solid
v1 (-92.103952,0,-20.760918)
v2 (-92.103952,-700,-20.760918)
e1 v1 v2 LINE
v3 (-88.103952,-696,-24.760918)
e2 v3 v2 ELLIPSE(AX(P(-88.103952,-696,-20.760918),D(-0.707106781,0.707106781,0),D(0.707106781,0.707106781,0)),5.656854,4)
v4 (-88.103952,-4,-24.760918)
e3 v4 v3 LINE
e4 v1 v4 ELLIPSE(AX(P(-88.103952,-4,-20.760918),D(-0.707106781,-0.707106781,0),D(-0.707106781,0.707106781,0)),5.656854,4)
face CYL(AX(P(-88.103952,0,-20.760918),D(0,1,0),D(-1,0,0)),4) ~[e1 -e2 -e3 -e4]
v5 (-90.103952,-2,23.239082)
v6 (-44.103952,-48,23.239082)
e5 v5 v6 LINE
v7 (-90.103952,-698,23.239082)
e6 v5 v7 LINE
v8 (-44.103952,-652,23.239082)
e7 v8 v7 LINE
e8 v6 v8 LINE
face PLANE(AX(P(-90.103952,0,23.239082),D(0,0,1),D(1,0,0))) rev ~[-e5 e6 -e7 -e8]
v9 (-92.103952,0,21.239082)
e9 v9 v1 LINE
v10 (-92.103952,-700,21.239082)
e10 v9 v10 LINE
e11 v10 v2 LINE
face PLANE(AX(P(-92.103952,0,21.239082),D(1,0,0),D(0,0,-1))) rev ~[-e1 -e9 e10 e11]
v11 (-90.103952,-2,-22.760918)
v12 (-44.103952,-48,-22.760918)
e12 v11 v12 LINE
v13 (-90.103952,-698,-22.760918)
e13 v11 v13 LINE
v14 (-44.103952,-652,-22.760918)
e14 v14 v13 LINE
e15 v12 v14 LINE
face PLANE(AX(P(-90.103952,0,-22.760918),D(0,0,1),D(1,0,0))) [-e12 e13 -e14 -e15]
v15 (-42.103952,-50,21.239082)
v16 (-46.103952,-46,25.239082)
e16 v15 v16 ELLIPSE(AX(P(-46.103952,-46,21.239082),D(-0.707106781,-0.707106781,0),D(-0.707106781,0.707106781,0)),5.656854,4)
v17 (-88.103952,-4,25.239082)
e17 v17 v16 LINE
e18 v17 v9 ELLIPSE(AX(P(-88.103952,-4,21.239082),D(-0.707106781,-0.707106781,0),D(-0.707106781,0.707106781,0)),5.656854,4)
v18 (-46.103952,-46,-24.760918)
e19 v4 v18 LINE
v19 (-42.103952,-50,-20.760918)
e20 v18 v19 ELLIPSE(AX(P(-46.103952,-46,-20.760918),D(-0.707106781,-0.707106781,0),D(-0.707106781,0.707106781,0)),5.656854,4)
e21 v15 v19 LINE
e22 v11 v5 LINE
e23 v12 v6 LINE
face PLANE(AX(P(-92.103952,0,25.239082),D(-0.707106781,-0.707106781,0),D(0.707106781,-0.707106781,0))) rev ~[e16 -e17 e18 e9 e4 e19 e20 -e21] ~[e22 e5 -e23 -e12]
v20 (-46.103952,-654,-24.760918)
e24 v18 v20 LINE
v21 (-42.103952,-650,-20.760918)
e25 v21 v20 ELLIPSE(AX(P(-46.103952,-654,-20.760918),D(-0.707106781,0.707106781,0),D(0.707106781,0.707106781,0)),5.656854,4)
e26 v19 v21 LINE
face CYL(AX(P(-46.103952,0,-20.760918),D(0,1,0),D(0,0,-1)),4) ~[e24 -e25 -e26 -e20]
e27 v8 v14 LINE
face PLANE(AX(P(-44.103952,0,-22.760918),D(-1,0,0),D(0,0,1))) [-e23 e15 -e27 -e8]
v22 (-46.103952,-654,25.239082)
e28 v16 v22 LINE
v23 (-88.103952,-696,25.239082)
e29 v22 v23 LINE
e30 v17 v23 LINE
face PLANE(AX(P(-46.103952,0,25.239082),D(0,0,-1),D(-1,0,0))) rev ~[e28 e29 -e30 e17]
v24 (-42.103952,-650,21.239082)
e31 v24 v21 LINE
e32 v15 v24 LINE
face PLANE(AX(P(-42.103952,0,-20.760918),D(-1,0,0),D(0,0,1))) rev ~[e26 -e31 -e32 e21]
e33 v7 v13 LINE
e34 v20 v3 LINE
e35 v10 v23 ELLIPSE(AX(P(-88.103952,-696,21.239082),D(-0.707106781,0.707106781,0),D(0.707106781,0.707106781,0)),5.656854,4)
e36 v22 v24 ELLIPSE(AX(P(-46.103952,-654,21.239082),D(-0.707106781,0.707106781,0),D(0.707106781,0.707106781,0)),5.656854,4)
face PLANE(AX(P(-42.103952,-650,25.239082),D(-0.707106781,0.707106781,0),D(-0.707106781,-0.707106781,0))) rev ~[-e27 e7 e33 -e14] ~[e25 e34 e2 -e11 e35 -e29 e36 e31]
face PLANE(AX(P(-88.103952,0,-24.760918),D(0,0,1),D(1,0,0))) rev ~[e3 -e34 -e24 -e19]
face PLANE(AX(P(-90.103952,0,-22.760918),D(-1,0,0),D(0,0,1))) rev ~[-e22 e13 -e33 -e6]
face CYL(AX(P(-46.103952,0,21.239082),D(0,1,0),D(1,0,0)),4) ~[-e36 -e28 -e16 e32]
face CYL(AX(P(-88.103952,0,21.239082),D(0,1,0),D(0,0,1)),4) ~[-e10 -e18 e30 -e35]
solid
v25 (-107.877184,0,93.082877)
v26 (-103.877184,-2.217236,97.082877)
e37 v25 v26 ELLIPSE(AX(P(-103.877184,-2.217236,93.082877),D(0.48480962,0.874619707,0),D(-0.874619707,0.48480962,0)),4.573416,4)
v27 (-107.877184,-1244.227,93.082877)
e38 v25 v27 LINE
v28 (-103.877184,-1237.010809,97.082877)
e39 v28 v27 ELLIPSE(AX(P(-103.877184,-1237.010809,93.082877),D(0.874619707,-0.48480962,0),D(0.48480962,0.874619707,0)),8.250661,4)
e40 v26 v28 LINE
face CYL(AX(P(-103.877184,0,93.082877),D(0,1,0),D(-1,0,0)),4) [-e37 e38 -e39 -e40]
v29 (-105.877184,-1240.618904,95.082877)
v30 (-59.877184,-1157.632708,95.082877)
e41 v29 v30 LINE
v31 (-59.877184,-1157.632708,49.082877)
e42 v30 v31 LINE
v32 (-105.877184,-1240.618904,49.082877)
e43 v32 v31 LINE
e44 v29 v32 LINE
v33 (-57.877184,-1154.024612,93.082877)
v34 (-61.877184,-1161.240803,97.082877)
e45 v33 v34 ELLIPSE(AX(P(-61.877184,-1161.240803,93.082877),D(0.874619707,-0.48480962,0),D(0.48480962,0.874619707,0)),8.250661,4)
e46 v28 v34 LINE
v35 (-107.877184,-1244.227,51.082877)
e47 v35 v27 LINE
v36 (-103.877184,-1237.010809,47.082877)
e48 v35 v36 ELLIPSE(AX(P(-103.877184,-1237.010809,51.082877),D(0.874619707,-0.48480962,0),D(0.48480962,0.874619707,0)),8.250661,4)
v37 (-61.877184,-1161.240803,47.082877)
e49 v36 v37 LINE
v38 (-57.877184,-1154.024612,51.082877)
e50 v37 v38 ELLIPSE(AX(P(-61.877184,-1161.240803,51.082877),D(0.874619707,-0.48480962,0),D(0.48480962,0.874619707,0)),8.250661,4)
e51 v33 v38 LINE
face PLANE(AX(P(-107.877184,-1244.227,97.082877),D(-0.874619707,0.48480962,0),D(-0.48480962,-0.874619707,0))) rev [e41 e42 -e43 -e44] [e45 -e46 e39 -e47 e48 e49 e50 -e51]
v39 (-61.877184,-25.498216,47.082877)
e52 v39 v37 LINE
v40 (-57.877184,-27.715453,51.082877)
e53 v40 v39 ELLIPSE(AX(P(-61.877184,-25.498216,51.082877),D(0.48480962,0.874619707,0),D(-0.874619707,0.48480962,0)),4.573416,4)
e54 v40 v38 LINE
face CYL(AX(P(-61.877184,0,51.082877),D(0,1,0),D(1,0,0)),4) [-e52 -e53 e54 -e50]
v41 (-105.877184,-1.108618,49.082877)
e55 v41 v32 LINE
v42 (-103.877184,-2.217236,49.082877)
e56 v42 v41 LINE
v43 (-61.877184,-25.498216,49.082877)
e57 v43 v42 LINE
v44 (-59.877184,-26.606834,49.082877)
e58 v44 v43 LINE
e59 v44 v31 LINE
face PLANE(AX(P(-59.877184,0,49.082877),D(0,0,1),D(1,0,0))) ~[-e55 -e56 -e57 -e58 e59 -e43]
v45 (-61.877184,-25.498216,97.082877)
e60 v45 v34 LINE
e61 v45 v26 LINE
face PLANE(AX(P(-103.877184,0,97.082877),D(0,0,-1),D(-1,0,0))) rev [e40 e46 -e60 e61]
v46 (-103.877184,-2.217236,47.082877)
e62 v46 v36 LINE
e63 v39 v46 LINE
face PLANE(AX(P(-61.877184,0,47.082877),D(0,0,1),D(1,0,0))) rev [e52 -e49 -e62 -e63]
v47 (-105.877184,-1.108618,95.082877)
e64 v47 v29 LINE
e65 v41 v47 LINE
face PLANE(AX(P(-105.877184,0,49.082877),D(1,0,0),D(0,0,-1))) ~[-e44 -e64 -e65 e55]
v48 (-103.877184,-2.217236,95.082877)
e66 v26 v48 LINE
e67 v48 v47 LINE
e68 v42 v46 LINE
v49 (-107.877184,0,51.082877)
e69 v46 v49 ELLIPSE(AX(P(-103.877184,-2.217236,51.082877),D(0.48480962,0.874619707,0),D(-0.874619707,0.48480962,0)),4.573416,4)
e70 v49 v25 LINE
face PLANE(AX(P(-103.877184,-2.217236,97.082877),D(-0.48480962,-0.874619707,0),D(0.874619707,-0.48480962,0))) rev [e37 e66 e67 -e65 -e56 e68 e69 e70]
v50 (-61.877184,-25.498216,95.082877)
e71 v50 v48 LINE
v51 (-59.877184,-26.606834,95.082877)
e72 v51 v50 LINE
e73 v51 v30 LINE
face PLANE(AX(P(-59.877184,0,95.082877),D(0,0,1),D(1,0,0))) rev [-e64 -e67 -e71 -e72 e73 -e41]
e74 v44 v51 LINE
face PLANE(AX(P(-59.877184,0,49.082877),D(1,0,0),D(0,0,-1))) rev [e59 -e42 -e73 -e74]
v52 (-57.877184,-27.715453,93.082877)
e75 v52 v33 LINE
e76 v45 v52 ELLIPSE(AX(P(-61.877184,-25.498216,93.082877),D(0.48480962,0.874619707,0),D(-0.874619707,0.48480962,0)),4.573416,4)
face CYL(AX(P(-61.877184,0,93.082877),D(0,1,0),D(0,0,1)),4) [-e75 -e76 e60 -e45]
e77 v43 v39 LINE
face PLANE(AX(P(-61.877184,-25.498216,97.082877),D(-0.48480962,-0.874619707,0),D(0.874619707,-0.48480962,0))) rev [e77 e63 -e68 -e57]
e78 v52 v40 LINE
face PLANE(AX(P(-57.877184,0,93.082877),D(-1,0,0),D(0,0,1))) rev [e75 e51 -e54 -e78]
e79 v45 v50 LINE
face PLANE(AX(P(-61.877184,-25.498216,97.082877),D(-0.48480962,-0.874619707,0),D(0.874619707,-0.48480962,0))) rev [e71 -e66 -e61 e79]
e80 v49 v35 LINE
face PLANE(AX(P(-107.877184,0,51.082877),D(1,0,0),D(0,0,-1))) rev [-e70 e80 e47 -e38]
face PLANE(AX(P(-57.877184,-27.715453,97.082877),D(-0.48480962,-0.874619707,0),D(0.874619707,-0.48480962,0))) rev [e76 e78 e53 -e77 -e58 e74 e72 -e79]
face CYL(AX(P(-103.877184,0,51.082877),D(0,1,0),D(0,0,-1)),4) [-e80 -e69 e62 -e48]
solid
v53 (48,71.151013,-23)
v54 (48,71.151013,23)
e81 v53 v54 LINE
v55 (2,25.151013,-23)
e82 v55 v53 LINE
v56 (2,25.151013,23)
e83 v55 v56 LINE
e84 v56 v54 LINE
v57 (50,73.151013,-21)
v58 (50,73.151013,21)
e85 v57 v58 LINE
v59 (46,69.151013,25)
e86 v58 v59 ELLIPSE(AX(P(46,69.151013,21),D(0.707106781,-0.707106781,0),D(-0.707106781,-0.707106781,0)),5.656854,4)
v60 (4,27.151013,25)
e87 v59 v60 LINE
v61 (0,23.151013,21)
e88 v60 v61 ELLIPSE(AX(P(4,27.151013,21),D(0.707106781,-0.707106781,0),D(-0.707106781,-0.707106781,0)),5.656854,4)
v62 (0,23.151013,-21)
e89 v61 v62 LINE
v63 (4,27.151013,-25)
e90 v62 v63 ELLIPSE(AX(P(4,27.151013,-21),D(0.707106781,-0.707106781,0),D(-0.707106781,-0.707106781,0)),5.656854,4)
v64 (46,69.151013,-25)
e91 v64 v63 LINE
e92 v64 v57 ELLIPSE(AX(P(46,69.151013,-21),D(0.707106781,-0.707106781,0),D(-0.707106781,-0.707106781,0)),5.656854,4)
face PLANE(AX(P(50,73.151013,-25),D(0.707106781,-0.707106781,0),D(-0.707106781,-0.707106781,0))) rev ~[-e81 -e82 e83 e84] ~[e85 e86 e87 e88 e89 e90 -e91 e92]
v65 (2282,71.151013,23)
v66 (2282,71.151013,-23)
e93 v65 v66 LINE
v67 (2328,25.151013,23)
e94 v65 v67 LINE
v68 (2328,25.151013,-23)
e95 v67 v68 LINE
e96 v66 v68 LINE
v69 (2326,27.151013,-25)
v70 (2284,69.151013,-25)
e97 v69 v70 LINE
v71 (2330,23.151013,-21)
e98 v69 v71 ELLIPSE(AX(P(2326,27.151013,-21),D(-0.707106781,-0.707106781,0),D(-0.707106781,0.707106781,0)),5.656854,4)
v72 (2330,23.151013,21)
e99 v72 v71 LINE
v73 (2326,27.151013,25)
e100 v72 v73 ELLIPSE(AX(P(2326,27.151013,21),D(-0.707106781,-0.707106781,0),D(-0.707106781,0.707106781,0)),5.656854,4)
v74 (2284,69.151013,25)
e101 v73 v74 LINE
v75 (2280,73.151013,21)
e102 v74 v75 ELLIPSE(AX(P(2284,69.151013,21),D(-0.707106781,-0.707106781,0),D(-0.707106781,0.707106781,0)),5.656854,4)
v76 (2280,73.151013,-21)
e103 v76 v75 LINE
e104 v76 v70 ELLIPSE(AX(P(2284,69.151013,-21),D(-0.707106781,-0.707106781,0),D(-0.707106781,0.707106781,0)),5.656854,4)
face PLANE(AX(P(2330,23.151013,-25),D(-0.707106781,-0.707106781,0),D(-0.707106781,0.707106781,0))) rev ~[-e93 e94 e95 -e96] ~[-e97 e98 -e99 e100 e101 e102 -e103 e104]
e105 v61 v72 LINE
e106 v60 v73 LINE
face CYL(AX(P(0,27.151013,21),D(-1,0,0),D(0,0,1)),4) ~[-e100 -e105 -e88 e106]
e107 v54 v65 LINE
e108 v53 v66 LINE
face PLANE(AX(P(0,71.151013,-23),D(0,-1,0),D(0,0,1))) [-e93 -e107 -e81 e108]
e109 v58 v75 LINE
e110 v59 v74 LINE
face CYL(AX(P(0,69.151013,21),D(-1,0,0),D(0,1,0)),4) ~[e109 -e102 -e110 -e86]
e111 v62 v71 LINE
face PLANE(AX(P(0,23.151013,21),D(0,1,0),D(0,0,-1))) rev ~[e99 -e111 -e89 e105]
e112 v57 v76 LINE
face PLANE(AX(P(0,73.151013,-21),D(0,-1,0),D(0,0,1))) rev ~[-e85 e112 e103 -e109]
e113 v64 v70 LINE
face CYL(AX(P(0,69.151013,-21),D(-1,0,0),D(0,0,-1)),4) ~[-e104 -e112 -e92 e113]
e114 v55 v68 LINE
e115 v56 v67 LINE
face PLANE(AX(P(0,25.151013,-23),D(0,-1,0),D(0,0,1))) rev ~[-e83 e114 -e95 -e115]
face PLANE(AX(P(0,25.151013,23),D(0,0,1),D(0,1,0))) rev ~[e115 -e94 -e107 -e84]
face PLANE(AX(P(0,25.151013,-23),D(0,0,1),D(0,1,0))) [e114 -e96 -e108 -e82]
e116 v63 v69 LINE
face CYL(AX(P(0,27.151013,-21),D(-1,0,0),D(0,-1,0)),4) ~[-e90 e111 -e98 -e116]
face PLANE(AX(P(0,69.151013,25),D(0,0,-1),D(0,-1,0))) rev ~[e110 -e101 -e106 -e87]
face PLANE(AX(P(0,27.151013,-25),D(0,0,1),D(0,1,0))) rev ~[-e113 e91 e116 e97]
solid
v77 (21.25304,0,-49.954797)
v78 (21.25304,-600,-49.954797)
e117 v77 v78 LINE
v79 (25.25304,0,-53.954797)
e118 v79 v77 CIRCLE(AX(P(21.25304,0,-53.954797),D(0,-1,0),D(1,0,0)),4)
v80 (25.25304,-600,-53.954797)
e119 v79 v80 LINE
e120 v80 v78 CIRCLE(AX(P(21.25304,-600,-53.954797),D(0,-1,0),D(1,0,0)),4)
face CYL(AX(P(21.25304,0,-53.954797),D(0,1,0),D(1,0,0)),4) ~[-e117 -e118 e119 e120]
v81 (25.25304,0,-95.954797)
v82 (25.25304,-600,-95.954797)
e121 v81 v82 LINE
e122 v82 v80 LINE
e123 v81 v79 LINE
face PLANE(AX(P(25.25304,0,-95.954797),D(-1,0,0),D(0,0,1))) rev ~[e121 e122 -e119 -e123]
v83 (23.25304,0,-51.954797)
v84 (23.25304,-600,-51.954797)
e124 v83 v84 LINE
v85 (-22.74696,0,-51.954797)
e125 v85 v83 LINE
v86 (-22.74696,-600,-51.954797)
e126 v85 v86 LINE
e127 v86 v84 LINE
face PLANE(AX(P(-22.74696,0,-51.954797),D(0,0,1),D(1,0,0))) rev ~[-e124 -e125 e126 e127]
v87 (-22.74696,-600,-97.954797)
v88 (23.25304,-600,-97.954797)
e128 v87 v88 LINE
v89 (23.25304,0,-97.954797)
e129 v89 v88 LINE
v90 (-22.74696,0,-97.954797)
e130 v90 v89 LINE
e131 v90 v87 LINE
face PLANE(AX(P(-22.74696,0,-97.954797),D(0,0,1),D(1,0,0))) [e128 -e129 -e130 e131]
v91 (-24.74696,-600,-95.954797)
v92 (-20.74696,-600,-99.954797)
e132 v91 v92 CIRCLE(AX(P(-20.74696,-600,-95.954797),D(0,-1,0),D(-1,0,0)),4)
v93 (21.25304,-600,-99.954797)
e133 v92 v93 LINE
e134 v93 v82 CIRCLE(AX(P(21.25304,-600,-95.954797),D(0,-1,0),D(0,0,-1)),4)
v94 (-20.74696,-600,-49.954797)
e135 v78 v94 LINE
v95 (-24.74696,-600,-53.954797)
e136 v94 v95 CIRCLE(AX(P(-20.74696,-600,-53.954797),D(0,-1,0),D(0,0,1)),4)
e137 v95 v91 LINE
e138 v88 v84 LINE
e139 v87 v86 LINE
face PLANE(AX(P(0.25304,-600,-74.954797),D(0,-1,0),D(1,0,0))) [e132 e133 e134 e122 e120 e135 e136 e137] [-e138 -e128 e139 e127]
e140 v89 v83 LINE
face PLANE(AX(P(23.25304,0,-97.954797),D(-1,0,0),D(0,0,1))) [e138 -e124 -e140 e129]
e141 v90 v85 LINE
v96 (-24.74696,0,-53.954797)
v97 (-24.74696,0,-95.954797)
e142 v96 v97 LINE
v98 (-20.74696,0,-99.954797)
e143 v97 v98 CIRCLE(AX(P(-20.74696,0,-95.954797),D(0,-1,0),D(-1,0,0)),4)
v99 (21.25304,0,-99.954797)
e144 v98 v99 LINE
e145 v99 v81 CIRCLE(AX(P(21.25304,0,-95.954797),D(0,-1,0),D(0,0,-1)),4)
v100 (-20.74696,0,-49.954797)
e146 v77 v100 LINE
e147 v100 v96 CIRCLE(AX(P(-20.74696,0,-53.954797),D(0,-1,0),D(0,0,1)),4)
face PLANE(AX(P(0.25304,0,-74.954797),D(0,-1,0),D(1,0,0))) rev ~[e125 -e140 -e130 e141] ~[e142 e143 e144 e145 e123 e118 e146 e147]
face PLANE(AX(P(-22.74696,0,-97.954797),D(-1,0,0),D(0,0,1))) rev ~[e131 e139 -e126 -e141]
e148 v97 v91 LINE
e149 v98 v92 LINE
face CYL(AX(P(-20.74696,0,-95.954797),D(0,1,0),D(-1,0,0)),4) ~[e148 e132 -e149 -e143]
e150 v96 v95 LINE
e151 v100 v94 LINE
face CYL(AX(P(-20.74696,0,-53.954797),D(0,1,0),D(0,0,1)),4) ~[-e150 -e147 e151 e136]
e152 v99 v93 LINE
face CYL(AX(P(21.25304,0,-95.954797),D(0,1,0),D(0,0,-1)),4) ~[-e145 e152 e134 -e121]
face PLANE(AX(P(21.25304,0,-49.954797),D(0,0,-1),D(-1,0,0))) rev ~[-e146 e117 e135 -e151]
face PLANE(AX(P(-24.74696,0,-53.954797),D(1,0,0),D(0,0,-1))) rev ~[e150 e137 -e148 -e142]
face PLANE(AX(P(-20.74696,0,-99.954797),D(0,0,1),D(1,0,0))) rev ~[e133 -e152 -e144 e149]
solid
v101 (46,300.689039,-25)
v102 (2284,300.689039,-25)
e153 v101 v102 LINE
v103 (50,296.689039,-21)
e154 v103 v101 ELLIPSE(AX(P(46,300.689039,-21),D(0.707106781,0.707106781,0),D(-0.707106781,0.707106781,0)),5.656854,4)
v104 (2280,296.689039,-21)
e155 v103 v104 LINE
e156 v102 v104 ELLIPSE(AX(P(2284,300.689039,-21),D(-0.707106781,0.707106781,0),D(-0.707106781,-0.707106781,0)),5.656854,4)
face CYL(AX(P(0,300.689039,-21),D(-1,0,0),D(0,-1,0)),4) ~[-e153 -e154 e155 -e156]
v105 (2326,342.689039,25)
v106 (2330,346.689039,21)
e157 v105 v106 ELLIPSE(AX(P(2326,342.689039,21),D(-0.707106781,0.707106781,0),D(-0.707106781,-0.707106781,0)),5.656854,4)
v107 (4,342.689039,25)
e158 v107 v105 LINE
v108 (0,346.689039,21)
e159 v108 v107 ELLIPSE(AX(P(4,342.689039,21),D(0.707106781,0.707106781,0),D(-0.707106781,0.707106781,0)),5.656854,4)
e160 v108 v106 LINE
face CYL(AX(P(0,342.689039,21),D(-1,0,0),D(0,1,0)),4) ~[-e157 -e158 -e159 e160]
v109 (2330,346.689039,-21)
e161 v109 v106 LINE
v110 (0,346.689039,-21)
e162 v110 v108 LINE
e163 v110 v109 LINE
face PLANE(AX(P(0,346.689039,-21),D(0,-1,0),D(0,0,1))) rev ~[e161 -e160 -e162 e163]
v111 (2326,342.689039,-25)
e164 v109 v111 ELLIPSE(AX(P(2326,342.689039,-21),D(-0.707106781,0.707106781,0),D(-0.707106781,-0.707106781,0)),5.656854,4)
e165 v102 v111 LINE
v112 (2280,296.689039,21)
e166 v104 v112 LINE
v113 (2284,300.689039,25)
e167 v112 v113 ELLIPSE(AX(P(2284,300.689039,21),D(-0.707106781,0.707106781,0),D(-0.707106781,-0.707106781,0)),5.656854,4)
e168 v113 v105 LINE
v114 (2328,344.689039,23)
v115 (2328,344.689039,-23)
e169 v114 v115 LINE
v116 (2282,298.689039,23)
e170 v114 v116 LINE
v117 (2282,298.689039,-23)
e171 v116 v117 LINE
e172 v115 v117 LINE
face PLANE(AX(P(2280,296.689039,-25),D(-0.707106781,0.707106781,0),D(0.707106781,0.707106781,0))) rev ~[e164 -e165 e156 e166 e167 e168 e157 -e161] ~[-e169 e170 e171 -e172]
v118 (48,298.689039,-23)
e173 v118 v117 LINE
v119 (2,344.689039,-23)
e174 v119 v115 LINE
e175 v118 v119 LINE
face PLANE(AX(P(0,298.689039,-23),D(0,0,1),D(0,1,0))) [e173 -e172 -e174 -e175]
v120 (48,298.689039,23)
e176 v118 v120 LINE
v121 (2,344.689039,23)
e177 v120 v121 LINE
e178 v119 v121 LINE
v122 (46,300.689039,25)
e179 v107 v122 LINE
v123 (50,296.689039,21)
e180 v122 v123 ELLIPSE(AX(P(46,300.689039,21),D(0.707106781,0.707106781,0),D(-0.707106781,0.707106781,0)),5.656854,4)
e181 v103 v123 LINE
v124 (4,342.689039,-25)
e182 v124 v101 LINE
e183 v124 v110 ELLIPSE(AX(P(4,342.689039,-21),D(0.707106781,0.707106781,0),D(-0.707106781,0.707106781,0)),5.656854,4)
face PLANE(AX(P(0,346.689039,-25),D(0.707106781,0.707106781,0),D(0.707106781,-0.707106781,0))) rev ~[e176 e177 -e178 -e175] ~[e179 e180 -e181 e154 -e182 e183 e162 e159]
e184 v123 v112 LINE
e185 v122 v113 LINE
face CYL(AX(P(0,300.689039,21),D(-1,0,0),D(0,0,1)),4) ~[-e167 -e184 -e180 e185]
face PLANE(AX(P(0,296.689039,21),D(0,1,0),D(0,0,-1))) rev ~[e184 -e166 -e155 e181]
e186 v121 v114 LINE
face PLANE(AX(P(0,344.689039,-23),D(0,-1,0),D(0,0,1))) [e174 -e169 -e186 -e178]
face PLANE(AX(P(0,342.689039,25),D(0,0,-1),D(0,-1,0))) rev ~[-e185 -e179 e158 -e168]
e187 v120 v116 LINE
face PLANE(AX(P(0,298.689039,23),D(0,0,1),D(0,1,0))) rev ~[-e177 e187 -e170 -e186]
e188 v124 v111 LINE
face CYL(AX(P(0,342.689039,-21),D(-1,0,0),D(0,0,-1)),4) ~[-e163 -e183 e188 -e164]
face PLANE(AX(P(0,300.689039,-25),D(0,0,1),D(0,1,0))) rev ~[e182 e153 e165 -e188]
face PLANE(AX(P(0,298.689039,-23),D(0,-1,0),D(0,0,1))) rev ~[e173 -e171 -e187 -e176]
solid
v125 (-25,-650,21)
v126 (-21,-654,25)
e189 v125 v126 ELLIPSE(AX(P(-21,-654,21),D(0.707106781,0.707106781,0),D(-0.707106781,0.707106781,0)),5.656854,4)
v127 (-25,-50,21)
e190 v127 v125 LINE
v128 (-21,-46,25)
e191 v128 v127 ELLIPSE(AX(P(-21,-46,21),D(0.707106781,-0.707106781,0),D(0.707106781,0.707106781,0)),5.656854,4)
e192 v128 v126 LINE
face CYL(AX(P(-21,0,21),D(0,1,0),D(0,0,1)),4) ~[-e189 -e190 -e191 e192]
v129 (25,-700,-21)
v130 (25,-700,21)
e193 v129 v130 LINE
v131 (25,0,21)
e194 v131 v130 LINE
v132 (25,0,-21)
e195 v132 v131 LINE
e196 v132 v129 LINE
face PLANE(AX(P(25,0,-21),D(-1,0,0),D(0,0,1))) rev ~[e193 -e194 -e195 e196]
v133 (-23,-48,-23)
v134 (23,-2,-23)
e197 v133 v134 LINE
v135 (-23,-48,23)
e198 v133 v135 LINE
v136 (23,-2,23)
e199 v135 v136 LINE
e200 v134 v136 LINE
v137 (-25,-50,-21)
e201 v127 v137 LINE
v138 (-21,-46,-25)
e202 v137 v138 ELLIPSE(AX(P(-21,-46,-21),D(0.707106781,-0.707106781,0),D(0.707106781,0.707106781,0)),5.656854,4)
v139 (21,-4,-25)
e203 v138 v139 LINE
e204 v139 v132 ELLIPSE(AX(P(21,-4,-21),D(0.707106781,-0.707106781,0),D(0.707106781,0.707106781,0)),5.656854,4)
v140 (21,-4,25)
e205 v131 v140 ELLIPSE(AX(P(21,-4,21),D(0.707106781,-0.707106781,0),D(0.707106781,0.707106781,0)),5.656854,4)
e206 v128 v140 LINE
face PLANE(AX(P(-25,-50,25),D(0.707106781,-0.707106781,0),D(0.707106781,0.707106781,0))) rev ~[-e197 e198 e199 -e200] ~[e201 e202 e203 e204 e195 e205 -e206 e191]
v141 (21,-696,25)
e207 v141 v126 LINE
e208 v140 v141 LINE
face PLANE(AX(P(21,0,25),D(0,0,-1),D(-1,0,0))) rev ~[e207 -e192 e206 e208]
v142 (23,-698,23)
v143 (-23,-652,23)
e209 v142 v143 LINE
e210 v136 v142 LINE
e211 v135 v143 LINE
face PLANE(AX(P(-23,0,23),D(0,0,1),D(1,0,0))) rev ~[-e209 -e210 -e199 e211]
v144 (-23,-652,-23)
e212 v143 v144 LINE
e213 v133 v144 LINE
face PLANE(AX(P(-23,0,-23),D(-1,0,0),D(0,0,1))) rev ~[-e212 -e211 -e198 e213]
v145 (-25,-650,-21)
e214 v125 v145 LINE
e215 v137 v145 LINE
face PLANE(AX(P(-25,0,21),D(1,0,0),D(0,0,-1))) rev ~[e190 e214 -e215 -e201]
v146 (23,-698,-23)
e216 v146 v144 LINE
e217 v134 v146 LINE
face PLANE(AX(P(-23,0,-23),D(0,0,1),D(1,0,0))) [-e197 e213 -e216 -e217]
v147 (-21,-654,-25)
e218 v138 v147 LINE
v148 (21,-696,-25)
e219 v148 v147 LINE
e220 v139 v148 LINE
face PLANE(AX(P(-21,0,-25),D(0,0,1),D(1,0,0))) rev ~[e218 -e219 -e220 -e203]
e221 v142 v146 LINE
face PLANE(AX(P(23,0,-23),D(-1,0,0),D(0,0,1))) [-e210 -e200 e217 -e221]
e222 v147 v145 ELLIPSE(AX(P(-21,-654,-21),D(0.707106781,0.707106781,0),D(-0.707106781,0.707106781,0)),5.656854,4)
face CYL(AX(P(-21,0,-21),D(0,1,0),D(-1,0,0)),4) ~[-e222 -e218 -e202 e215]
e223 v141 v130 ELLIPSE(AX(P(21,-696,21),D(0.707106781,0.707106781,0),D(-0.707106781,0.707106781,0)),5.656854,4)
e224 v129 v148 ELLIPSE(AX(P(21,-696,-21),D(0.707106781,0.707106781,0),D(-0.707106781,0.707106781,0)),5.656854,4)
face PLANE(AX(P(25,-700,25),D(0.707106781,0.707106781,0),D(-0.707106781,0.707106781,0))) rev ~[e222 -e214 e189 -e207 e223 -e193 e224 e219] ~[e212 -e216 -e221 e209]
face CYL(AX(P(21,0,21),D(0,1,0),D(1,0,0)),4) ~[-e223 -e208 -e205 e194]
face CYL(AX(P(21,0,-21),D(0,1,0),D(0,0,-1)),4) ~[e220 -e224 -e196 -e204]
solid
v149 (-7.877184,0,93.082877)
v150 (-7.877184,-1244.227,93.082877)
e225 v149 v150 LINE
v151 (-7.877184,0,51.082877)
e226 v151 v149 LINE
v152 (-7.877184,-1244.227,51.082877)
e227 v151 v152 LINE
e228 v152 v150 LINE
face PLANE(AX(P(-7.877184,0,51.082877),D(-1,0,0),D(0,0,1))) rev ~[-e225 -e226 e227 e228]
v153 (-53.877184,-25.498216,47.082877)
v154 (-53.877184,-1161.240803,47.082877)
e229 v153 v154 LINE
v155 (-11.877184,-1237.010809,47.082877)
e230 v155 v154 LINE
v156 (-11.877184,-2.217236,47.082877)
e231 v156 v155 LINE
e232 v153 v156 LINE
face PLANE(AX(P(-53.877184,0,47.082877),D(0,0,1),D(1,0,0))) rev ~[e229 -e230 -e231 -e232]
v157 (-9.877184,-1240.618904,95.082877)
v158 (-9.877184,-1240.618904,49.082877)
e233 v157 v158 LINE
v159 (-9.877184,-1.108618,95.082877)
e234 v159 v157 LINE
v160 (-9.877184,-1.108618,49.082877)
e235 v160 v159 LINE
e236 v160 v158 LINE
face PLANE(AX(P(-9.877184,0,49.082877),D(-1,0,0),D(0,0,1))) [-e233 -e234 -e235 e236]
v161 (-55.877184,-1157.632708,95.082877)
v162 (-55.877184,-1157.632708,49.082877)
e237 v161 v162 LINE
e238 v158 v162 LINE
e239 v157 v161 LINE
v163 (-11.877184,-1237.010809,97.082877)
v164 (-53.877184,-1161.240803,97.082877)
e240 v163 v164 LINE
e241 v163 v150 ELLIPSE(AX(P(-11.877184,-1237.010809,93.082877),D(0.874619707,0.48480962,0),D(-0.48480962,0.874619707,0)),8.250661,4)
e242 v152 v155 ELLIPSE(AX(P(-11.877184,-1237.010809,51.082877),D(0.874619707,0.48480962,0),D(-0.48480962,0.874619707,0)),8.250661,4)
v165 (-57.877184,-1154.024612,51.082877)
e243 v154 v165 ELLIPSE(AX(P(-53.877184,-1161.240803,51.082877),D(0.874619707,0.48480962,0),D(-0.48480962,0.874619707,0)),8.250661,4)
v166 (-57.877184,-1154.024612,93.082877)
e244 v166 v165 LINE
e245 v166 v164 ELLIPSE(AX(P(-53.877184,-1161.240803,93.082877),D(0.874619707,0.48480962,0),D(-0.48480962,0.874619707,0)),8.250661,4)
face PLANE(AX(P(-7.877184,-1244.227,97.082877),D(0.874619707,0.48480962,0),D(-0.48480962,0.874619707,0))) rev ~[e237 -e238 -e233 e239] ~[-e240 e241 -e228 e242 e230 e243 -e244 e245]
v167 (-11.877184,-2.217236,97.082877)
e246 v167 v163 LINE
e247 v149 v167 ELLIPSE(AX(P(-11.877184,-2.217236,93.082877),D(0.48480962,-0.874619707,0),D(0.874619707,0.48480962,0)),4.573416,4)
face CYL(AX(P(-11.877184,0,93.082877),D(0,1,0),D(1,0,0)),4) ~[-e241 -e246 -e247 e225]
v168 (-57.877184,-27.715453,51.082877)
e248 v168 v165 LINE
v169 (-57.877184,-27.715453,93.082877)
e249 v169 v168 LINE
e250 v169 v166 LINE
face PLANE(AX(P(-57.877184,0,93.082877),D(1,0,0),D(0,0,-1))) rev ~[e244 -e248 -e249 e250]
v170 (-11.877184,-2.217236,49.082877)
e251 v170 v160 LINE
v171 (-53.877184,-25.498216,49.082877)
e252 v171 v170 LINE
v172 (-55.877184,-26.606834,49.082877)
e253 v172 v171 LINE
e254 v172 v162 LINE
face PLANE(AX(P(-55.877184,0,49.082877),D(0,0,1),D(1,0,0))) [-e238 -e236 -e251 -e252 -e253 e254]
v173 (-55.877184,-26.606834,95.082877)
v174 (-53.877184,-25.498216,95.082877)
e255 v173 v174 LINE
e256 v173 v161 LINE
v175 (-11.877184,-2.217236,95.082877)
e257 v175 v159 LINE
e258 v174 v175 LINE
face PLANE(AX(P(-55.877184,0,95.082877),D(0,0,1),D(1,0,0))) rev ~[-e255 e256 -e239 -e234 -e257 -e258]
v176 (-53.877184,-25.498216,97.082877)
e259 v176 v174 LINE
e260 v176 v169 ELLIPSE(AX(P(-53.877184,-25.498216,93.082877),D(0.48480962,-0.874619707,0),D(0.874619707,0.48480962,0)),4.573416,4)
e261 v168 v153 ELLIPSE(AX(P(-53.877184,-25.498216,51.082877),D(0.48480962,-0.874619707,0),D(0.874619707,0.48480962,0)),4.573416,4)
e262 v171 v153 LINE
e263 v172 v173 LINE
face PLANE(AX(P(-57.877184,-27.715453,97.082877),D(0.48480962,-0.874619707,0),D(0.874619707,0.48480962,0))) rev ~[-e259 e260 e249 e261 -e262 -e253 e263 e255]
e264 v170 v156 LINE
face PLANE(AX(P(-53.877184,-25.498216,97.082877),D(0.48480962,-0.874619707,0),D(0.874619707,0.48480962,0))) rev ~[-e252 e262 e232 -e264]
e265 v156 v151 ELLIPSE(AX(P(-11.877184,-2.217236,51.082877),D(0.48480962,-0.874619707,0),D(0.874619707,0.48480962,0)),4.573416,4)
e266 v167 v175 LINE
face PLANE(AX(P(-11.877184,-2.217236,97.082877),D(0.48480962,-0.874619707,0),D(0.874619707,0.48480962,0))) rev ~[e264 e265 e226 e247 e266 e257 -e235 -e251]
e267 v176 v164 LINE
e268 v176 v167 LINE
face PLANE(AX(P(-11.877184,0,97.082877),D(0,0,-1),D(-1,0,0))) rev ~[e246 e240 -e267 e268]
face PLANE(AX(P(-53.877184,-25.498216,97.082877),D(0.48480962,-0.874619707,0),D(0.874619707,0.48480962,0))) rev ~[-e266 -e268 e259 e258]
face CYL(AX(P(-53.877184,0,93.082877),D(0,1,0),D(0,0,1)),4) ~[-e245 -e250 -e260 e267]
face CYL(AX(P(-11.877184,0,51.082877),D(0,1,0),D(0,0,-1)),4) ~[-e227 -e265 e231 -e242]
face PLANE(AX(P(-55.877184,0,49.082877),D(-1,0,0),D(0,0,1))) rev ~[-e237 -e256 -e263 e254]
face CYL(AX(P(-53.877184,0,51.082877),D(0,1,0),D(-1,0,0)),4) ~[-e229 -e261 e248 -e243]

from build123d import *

# Parameters (mm, degrees)
F0_W      = 46
F0_H      = 46
F1_DEPTH  = 700
F2_W      = 46
F2_H      = 46
F3_DEPTH  = 700
F5_DEPTH  = 50.001
F7_DEPTH  = 50.2400823502
F8_W      = 46
F8_H      = 46
F10_DEPTH = 2330
F9_W      = 46
F9_H      = 46
F11_DEPTH = 2330
F13_DEPTH = 50.2400823502
F15_DEPTH = 50.2400823502
F16_W     = 46
F16_H     = 46
F17_DEPTH = 600
F18_W     = 46
F18_H     = 46
F20_DEPTH = 1244.227
F19_W     = 46
F19_H     = 46
F21_DEPTH = 1244.227
F23_DEPTH = 197.0386737416


with BuildPart() as f1:
    # F0 (on Front) → F1 (new body)
    with BuildSketch(Plane.XZ):
        with BuildLine():
            ThreePointArc((25, 21), (23.8284271247, 23.8284271247), (21, 25))
            Line((21, 25), (-21, 25))
            ThreePointArc((-21, 25), (-23.8284271247, 23.8284271247), (-25, 21))
            Line((-25, 21), (-25, -21))
            ThreePointArc((-25, -21), (-23.8284271247, -23.8284271247), (-21, -25))
            Line((-21, -25), (21, -25))
            ThreePointArc((21, -25), (23.8284271247, -23.8284271247), (25, -21))
            Line((25, -21), (25, 21))
        make_face()
        Rectangle(F0_W, F0_H, mode=Mode.SUBTRACT)
    extrude(amount=F1_DEPTH)

    # F4 (on face) → F5 (cut, through all)
    with BuildSketch(Plane.XY.offset(25)):
        Polygon((-25, 0), (-25, -50), (-21, -46), (-21, 0), align=None)
        Polygon((-21, 0), (-21, -46), (21, -4), (21, 0), align=None)
        Polygon((21, 0), (21, -4), (25, 0), align=None)
        Polygon((-25, -650), (-25, -700), (-21, -700), (-21, -654), align=None)
        Polygon((-21, -654), (-21, -700), (21, -700), (21, -696), align=None)
        Polygon((21, -696), (21, -700), (25, -700), align=None)
    extrude(amount=-F5_DEPTH, mode=Mode.SUBTRACT)


with BuildPart() as f3:
    # F2 (on Front) → F3 (new body)
    with BuildSketch(Plane.XZ):
        with BuildLine():
            ThreePointArc((-42.1039521694, 21.2390823502), (-43.2755250447, 24.0675094749), (-46.1039521694, 25.2390823502))
            Line((-46.1039521694, 25.2390823502), (-88.1039521694, 25.2390823502))
            ThreePointArc((-88.1039521694, 25.2390823502), (-90.9323792942, 24.0675094749), (-92.1039521694, 21.2390823502))
            Line((-92.1039521694, 21.2390823502), (-92.1039521694, -20.7609176498))
            ThreePointArc((-92.1039521694, -20.7609176498), (-90.9323792942, -23.5893447746), (-88.1039521694, -24.7609176498))
            Line((-88.1039521694, -24.7609176498), (-46.1039521694, -24.7609176498))
            ThreePointArc((-46.1039521694, -24.7609176498), (-43.2755250447, -23.5893447746), (-42.1039521694, -20.7609176498))
            Line((-42.1039521694, -20.7609176498), (-42.1039521694, 21.2390823502))
        make_face()
        with Locations((-67.1039521694, 0.2390823502)):
            Rectangle(F2_W, F2_H, mode=Mode.SUBTRACT)
    extrude(amount=F3_DEPTH)

    # F6 (on face) → F7 (cut, through all)
    with BuildSketch(Plane.XY.offset(25.2390823502)):
        Polygon((-88.1039521694, 0), (-92.1039521694, 0), (-88.1039521694, -4), align=None)
        Polygon((-46.1039521694, 0), (-88.1039521694, 0), (-88.1039521694, -4), (-46.1039521694, -46), align=None)
        Polygon((-42.1039521694, 0), (-46.1039521694, 0), (-46.1039521694, -46), (-42.1039521694, -50), align=None)
        Polygon((-46.1039521694, -654), (-46.1039521694, -700), (-42.1039521694, -700), (-42.1039521694, -650), align=None)
        Polygon((-88.1039521694, -696), (-88.1039521694, -700), (-46.1039521694, -700), (-46.1039521694, -654), align=None)
        Polygon((-88.1039521694, -696), (-92.1039521694, -700), (-88.1039521694, -700), align=None)
    extrude(amount=-F7_DEPTH, mode=Mode.SUBTRACT)


with BuildPart() as f10:
    # F8 (on Right) → F10 (new body)
    with BuildSketch(Plane.YZ):
        with BuildLine():
            Line((300.6890394688, -25), (342.6890394688, -25))
            ThreePointArc((342.6890394688, -25), (345.5174665935, -23.8284271247), (346.6890394688, -21))
            Line((346.6890394688, -21), (346.6890394688, 21))
            ThreePointArc((346.6890394688, 21), (345.5174665935, 23.8284271247), (342.6890394688, 25))
            Line((342.6890394688, 25), (300.6890394688, 25))
            ThreePointArc((300.6890394688, 25), (297.860612344, 23.8284271247), (296.6890394688, 21))
            Line((296.6890394688, 21), (296.6890394688, -21))
            ThreePointArc((296.6890394688, -21), (297.860612344, -23.8284271247), (300.6890394688, -25))
        make_face()
        with Locations((321.6890394688, 0)):
            Rectangle(F8_W, F8_H, mode=Mode.SUBTRACT)
    extrude(amount=F10_DEPTH)

    # F14 (on face) → F15 (cut, through all)
    with BuildSketch(Plane(origin=(0, 0, -25), x_dir=(1, 0, 0), z_dir=(0, 0, -1))):
        Polygon((2326, -342.6890394688), (2330, -346.6890394688), (2330, -342.6890394688), align=None)
        Polygon((2326, -342.6890394688), (2330, -342.6890394688), (2330, -300.6890394688), (2284, -300.6890394688), align=None)
        Polygon((2284, -300.6890394688), (2330, -300.6890394688), (2330, -296.6890394688), (2280, -296.6890394688), align=None)
        Polygon((0, -296.6890394688), (0, -300.6890394688), (46, -300.6890394688), (50, -296.6890394688), align=None)
        Polygon((0, -300.6890394688), (0, -342.6890394688), (4, -342.6890394688), (46, -300.6890394688), align=None)
        Polygon((0, -342.6890394688), (0, -346.6890394688), (4, -342.6890394688), align=None)
    extrude(amount=-F15_DEPTH, mode=Mode.SUBTRACT)


with BuildPart() as f11:
    # F9 (on Right) → F11 (new body)
    with BuildSketch(Plane.YZ):
        with BuildLine():
            Line((27.1510125101, -25), (69.1510125101, -25))
            ThreePointArc((69.1510125101, -25), (71.9794396348, -23.8284271247), (73.1510125101, -21))
            Line((73.1510125101, -21), (73.1510125101, 21))
            ThreePointArc((73.1510125101, 21), (71.9794396348, 23.8284271247), (69.1510125101, 25))
            Line((69.1510125101, 25), (27.1510125101, 25))
            ThreePointArc((27.1510125101, 25), (24.3225853853, 23.8284271247), (23.1510125101, 21))
            Line((23.1510125101, 21), (23.1510125101, -21))
            ThreePointArc((23.1510125101, -21), (24.3225853853, -23.8284271247), (27.1510125101, -25))
        make_face()
        with Locations((48.1510125101, 0)):
            Rectangle(F9_W, F9_H, mode=Mode.SUBTRACT)
    extrude(amount=F11_DEPTH)

    # F12 (on face) → F13 (cut, through all)
    with BuildSketch(Plane(origin=(0, 0, -25), x_dir=(1, 0, 0), z_dir=(0, 0, -1))):
        Polygon((2280, -73.1510125101), (2330, -73.1510125101), (2330, -69.1510125101), (2284, -69.1510125101), align=None)
        Polygon((2284, -69.1510125101), (2330, -69.1510125101), (2330, -27.1510125101), (2326, -27.1510125101), align=None)
        Polygon((2326, -27.1510125101), (2330, -27.1510125101), (2330, -23.1510125101), align=None)
        Polygon((0, -73.1510125101), (50, -73.1510125101), (46, -69.1510125101), (0, -69.1510125101), align=None)
        Polygon((0, -69.1510125101), (46, -69.1510125101), (4, -27.1510125101), (0, -27.1510125101), align=None)
        Polygon((0, -27.1510125101), (4, -27.1510125101), (0, -23.1510125101), align=None)
    extrude(amount=-F13_DEPTH, mode=Mode.SUBTRACT)


with BuildPart() as f17:
    # F16 (on Front) → F17 (new body)
    with BuildSketch(Plane.XZ):
        with BuildLine():
            ThreePointArc((25.253039645, -53.9547965825), (24.0814667698, -51.1263694577), (21.253039645, -49.9547965825))
            Line((21.253039645, -49.9547965825), (-20.746960355, -49.9547965825))
            ThreePointArc((-20.746960355, -49.9547965825), (-23.5753874797, -51.1263694577), (-24.746960355, -53.9547965825))
            Line((-24.746960355, -53.9547965825), (-24.746960355, -95.9547965825))
            ThreePointArc((-24.746960355, -95.9547965825), (-23.5753874797, -98.7832237072), (-20.746960355, -99.9547965825))
            Line((-20.746960355, -99.9547965825), (21.253039645, -99.9547965825))
            ThreePointArc((21.253039645, -99.9547965825), (24.0814667698, -98.7832237072), (25.253039645, -95.9547965825))
            Line((25.253039645, -95.9547965825), (25.253039645, -53.9547965825))
        make_face()
        with Locations((0.253039645, -74.9547965825)):
            Rectangle(F16_W, F16_H, mode=Mode.SUBTRACT)
    extrude(amount=F17_DEPTH)


with BuildPart() as f20:
    # F18 (on Front) → F20 (new body)
    with BuildSketch(Plane.XZ):
        with BuildLine():
            ThreePointArc((64.6687351167, 93.0828771591), (63.4971622415, 95.9113042839), (60.6687351167, 97.0828771591))
            Line((60.6687351167, 97.0828771591), (18.6687351167, 97.0828771591))
            ThreePointArc((18.6687351167, 97.0828771591), (15.840307992, 95.9113042839), (14.6687351167, 93.0828771591))
            Line((14.6687351167, 93.0828771591), (14.6687351167, 51.0828771591))
            ThreePointArc((14.6687351167, 51.0828771591), (15.840307992, 48.2544500344), (18.6687351167, 47.0828771591))
            Line((18.6687351167, 47.0828771591), (60.6687351167, 47.0828771591))
            ThreePointArc((60.6687351167, 47.0828771591), (63.4971622415, 48.2544500344), (64.6687351167, 51.0828771591))
            Line((64.6687351167, 51.0828771591), (64.6687351167, 93.0828771591))
        make_face()
        with Locations((39.6687351167, 72.0828771591)):
            Rectangle(F18_W, F18_H, mode=Mode.SUBTRACT)
    extrude(amount=F20_DEPTH)


with BuildPart() as f21:
    # F19 (on Front) → F21 (new body)
    with BuildSketch(Plane.XZ):
        with BuildLine():
            ThreePointArc((-7.8771844506, 93.0828771591), (-9.0487573259, 95.9113042839), (-11.8771844506, 97.0828771591))
            Line((-11.8771844506, 97.0828771591), (-53.8771844506, 97.0828771591))
            ThreePointArc((-53.8771844506, 97.0828771591), (-56.7056115754, 95.9113042839), (-57.8771844506, 93.0828771591))
            Line((-57.8771844506, 93.0828771591), (-57.8771844506, 51.0828771591))
            ThreePointArc((-57.8771844506, 51.0828771591), (-56.7056115754, 48.2544500344), (-53.8771844506, 47.0828771591))
            Line((-53.8771844506, 47.0828771591), (-11.8771844506, 47.0828771591))
            ThreePointArc((-11.8771844506, 47.0828771591), (-9.0487573259, 48.2544500344), (-7.8771844506, 51.0828771591))
            Line((-7.8771844506, 51.0828771591), (-7.8771844506, 93.0828771591))
        make_face()
        with Locations((-32.8771844506, 72.0828771591)):
            Rectangle(F19_W, F19_H, mode=Mode.SUBTRACT)
    extrude(amount=F21_DEPTH)

    # F22 (on face) → F23 (cut, through all)
    with BuildSketch(Plane.XY.offset(97.0828771591)):
        Polygon((-57.8771844506, -1154.0246122364), (-57.8771844506, -1244.227), (-53.8771844506, -1244.227), (-53.8771844506, -1161.2408032575), align=None)
        Polygon((-53.8771844506, -1161.2408032575), (-53.8771844506, -1244.227), (-11.8771844506, -1244.227), (-11.8771844506, -1237.0108089789), align=None)
        Polygon((-11.8771844506, -1237.0108089789), (-11.8771844506, -1244.227), (-7.8771844506, -1244.227), align=None)
        Polygon((-57.8771844506, 0), (-57.8771844506, -27.7154525726), (-53.8771844506, -25.4982163668), (-53.8771844506, 0), align=None)
        Polygon((-53.8771844506, 0), (-53.8771844506, -25.4982163668), (-11.8771844506, -2.2172362058), (-11.8771844506, 0), align=None)
        Polygon((-11.8771844506, 0), (-11.8771844506, -2.2172362058), (-7.8771844506, 0), align=None)
    extrude(amount=-F23_DEPTH, mode=Mode.SUBTRACT)


with BuildPart() as f24_1:
    # F24: instance of F21
    add(f21.part.mirror(Plane(origin=(-57.8771844506, -590.8700324045, 72.0828771591), x_dir=(0, -1, 0), z_dir=(-1, 0, 0))))


solid = Compound([f1.part, f3.part, f10.part, f11.part, f17.part, f21.part, f24_1.part])
